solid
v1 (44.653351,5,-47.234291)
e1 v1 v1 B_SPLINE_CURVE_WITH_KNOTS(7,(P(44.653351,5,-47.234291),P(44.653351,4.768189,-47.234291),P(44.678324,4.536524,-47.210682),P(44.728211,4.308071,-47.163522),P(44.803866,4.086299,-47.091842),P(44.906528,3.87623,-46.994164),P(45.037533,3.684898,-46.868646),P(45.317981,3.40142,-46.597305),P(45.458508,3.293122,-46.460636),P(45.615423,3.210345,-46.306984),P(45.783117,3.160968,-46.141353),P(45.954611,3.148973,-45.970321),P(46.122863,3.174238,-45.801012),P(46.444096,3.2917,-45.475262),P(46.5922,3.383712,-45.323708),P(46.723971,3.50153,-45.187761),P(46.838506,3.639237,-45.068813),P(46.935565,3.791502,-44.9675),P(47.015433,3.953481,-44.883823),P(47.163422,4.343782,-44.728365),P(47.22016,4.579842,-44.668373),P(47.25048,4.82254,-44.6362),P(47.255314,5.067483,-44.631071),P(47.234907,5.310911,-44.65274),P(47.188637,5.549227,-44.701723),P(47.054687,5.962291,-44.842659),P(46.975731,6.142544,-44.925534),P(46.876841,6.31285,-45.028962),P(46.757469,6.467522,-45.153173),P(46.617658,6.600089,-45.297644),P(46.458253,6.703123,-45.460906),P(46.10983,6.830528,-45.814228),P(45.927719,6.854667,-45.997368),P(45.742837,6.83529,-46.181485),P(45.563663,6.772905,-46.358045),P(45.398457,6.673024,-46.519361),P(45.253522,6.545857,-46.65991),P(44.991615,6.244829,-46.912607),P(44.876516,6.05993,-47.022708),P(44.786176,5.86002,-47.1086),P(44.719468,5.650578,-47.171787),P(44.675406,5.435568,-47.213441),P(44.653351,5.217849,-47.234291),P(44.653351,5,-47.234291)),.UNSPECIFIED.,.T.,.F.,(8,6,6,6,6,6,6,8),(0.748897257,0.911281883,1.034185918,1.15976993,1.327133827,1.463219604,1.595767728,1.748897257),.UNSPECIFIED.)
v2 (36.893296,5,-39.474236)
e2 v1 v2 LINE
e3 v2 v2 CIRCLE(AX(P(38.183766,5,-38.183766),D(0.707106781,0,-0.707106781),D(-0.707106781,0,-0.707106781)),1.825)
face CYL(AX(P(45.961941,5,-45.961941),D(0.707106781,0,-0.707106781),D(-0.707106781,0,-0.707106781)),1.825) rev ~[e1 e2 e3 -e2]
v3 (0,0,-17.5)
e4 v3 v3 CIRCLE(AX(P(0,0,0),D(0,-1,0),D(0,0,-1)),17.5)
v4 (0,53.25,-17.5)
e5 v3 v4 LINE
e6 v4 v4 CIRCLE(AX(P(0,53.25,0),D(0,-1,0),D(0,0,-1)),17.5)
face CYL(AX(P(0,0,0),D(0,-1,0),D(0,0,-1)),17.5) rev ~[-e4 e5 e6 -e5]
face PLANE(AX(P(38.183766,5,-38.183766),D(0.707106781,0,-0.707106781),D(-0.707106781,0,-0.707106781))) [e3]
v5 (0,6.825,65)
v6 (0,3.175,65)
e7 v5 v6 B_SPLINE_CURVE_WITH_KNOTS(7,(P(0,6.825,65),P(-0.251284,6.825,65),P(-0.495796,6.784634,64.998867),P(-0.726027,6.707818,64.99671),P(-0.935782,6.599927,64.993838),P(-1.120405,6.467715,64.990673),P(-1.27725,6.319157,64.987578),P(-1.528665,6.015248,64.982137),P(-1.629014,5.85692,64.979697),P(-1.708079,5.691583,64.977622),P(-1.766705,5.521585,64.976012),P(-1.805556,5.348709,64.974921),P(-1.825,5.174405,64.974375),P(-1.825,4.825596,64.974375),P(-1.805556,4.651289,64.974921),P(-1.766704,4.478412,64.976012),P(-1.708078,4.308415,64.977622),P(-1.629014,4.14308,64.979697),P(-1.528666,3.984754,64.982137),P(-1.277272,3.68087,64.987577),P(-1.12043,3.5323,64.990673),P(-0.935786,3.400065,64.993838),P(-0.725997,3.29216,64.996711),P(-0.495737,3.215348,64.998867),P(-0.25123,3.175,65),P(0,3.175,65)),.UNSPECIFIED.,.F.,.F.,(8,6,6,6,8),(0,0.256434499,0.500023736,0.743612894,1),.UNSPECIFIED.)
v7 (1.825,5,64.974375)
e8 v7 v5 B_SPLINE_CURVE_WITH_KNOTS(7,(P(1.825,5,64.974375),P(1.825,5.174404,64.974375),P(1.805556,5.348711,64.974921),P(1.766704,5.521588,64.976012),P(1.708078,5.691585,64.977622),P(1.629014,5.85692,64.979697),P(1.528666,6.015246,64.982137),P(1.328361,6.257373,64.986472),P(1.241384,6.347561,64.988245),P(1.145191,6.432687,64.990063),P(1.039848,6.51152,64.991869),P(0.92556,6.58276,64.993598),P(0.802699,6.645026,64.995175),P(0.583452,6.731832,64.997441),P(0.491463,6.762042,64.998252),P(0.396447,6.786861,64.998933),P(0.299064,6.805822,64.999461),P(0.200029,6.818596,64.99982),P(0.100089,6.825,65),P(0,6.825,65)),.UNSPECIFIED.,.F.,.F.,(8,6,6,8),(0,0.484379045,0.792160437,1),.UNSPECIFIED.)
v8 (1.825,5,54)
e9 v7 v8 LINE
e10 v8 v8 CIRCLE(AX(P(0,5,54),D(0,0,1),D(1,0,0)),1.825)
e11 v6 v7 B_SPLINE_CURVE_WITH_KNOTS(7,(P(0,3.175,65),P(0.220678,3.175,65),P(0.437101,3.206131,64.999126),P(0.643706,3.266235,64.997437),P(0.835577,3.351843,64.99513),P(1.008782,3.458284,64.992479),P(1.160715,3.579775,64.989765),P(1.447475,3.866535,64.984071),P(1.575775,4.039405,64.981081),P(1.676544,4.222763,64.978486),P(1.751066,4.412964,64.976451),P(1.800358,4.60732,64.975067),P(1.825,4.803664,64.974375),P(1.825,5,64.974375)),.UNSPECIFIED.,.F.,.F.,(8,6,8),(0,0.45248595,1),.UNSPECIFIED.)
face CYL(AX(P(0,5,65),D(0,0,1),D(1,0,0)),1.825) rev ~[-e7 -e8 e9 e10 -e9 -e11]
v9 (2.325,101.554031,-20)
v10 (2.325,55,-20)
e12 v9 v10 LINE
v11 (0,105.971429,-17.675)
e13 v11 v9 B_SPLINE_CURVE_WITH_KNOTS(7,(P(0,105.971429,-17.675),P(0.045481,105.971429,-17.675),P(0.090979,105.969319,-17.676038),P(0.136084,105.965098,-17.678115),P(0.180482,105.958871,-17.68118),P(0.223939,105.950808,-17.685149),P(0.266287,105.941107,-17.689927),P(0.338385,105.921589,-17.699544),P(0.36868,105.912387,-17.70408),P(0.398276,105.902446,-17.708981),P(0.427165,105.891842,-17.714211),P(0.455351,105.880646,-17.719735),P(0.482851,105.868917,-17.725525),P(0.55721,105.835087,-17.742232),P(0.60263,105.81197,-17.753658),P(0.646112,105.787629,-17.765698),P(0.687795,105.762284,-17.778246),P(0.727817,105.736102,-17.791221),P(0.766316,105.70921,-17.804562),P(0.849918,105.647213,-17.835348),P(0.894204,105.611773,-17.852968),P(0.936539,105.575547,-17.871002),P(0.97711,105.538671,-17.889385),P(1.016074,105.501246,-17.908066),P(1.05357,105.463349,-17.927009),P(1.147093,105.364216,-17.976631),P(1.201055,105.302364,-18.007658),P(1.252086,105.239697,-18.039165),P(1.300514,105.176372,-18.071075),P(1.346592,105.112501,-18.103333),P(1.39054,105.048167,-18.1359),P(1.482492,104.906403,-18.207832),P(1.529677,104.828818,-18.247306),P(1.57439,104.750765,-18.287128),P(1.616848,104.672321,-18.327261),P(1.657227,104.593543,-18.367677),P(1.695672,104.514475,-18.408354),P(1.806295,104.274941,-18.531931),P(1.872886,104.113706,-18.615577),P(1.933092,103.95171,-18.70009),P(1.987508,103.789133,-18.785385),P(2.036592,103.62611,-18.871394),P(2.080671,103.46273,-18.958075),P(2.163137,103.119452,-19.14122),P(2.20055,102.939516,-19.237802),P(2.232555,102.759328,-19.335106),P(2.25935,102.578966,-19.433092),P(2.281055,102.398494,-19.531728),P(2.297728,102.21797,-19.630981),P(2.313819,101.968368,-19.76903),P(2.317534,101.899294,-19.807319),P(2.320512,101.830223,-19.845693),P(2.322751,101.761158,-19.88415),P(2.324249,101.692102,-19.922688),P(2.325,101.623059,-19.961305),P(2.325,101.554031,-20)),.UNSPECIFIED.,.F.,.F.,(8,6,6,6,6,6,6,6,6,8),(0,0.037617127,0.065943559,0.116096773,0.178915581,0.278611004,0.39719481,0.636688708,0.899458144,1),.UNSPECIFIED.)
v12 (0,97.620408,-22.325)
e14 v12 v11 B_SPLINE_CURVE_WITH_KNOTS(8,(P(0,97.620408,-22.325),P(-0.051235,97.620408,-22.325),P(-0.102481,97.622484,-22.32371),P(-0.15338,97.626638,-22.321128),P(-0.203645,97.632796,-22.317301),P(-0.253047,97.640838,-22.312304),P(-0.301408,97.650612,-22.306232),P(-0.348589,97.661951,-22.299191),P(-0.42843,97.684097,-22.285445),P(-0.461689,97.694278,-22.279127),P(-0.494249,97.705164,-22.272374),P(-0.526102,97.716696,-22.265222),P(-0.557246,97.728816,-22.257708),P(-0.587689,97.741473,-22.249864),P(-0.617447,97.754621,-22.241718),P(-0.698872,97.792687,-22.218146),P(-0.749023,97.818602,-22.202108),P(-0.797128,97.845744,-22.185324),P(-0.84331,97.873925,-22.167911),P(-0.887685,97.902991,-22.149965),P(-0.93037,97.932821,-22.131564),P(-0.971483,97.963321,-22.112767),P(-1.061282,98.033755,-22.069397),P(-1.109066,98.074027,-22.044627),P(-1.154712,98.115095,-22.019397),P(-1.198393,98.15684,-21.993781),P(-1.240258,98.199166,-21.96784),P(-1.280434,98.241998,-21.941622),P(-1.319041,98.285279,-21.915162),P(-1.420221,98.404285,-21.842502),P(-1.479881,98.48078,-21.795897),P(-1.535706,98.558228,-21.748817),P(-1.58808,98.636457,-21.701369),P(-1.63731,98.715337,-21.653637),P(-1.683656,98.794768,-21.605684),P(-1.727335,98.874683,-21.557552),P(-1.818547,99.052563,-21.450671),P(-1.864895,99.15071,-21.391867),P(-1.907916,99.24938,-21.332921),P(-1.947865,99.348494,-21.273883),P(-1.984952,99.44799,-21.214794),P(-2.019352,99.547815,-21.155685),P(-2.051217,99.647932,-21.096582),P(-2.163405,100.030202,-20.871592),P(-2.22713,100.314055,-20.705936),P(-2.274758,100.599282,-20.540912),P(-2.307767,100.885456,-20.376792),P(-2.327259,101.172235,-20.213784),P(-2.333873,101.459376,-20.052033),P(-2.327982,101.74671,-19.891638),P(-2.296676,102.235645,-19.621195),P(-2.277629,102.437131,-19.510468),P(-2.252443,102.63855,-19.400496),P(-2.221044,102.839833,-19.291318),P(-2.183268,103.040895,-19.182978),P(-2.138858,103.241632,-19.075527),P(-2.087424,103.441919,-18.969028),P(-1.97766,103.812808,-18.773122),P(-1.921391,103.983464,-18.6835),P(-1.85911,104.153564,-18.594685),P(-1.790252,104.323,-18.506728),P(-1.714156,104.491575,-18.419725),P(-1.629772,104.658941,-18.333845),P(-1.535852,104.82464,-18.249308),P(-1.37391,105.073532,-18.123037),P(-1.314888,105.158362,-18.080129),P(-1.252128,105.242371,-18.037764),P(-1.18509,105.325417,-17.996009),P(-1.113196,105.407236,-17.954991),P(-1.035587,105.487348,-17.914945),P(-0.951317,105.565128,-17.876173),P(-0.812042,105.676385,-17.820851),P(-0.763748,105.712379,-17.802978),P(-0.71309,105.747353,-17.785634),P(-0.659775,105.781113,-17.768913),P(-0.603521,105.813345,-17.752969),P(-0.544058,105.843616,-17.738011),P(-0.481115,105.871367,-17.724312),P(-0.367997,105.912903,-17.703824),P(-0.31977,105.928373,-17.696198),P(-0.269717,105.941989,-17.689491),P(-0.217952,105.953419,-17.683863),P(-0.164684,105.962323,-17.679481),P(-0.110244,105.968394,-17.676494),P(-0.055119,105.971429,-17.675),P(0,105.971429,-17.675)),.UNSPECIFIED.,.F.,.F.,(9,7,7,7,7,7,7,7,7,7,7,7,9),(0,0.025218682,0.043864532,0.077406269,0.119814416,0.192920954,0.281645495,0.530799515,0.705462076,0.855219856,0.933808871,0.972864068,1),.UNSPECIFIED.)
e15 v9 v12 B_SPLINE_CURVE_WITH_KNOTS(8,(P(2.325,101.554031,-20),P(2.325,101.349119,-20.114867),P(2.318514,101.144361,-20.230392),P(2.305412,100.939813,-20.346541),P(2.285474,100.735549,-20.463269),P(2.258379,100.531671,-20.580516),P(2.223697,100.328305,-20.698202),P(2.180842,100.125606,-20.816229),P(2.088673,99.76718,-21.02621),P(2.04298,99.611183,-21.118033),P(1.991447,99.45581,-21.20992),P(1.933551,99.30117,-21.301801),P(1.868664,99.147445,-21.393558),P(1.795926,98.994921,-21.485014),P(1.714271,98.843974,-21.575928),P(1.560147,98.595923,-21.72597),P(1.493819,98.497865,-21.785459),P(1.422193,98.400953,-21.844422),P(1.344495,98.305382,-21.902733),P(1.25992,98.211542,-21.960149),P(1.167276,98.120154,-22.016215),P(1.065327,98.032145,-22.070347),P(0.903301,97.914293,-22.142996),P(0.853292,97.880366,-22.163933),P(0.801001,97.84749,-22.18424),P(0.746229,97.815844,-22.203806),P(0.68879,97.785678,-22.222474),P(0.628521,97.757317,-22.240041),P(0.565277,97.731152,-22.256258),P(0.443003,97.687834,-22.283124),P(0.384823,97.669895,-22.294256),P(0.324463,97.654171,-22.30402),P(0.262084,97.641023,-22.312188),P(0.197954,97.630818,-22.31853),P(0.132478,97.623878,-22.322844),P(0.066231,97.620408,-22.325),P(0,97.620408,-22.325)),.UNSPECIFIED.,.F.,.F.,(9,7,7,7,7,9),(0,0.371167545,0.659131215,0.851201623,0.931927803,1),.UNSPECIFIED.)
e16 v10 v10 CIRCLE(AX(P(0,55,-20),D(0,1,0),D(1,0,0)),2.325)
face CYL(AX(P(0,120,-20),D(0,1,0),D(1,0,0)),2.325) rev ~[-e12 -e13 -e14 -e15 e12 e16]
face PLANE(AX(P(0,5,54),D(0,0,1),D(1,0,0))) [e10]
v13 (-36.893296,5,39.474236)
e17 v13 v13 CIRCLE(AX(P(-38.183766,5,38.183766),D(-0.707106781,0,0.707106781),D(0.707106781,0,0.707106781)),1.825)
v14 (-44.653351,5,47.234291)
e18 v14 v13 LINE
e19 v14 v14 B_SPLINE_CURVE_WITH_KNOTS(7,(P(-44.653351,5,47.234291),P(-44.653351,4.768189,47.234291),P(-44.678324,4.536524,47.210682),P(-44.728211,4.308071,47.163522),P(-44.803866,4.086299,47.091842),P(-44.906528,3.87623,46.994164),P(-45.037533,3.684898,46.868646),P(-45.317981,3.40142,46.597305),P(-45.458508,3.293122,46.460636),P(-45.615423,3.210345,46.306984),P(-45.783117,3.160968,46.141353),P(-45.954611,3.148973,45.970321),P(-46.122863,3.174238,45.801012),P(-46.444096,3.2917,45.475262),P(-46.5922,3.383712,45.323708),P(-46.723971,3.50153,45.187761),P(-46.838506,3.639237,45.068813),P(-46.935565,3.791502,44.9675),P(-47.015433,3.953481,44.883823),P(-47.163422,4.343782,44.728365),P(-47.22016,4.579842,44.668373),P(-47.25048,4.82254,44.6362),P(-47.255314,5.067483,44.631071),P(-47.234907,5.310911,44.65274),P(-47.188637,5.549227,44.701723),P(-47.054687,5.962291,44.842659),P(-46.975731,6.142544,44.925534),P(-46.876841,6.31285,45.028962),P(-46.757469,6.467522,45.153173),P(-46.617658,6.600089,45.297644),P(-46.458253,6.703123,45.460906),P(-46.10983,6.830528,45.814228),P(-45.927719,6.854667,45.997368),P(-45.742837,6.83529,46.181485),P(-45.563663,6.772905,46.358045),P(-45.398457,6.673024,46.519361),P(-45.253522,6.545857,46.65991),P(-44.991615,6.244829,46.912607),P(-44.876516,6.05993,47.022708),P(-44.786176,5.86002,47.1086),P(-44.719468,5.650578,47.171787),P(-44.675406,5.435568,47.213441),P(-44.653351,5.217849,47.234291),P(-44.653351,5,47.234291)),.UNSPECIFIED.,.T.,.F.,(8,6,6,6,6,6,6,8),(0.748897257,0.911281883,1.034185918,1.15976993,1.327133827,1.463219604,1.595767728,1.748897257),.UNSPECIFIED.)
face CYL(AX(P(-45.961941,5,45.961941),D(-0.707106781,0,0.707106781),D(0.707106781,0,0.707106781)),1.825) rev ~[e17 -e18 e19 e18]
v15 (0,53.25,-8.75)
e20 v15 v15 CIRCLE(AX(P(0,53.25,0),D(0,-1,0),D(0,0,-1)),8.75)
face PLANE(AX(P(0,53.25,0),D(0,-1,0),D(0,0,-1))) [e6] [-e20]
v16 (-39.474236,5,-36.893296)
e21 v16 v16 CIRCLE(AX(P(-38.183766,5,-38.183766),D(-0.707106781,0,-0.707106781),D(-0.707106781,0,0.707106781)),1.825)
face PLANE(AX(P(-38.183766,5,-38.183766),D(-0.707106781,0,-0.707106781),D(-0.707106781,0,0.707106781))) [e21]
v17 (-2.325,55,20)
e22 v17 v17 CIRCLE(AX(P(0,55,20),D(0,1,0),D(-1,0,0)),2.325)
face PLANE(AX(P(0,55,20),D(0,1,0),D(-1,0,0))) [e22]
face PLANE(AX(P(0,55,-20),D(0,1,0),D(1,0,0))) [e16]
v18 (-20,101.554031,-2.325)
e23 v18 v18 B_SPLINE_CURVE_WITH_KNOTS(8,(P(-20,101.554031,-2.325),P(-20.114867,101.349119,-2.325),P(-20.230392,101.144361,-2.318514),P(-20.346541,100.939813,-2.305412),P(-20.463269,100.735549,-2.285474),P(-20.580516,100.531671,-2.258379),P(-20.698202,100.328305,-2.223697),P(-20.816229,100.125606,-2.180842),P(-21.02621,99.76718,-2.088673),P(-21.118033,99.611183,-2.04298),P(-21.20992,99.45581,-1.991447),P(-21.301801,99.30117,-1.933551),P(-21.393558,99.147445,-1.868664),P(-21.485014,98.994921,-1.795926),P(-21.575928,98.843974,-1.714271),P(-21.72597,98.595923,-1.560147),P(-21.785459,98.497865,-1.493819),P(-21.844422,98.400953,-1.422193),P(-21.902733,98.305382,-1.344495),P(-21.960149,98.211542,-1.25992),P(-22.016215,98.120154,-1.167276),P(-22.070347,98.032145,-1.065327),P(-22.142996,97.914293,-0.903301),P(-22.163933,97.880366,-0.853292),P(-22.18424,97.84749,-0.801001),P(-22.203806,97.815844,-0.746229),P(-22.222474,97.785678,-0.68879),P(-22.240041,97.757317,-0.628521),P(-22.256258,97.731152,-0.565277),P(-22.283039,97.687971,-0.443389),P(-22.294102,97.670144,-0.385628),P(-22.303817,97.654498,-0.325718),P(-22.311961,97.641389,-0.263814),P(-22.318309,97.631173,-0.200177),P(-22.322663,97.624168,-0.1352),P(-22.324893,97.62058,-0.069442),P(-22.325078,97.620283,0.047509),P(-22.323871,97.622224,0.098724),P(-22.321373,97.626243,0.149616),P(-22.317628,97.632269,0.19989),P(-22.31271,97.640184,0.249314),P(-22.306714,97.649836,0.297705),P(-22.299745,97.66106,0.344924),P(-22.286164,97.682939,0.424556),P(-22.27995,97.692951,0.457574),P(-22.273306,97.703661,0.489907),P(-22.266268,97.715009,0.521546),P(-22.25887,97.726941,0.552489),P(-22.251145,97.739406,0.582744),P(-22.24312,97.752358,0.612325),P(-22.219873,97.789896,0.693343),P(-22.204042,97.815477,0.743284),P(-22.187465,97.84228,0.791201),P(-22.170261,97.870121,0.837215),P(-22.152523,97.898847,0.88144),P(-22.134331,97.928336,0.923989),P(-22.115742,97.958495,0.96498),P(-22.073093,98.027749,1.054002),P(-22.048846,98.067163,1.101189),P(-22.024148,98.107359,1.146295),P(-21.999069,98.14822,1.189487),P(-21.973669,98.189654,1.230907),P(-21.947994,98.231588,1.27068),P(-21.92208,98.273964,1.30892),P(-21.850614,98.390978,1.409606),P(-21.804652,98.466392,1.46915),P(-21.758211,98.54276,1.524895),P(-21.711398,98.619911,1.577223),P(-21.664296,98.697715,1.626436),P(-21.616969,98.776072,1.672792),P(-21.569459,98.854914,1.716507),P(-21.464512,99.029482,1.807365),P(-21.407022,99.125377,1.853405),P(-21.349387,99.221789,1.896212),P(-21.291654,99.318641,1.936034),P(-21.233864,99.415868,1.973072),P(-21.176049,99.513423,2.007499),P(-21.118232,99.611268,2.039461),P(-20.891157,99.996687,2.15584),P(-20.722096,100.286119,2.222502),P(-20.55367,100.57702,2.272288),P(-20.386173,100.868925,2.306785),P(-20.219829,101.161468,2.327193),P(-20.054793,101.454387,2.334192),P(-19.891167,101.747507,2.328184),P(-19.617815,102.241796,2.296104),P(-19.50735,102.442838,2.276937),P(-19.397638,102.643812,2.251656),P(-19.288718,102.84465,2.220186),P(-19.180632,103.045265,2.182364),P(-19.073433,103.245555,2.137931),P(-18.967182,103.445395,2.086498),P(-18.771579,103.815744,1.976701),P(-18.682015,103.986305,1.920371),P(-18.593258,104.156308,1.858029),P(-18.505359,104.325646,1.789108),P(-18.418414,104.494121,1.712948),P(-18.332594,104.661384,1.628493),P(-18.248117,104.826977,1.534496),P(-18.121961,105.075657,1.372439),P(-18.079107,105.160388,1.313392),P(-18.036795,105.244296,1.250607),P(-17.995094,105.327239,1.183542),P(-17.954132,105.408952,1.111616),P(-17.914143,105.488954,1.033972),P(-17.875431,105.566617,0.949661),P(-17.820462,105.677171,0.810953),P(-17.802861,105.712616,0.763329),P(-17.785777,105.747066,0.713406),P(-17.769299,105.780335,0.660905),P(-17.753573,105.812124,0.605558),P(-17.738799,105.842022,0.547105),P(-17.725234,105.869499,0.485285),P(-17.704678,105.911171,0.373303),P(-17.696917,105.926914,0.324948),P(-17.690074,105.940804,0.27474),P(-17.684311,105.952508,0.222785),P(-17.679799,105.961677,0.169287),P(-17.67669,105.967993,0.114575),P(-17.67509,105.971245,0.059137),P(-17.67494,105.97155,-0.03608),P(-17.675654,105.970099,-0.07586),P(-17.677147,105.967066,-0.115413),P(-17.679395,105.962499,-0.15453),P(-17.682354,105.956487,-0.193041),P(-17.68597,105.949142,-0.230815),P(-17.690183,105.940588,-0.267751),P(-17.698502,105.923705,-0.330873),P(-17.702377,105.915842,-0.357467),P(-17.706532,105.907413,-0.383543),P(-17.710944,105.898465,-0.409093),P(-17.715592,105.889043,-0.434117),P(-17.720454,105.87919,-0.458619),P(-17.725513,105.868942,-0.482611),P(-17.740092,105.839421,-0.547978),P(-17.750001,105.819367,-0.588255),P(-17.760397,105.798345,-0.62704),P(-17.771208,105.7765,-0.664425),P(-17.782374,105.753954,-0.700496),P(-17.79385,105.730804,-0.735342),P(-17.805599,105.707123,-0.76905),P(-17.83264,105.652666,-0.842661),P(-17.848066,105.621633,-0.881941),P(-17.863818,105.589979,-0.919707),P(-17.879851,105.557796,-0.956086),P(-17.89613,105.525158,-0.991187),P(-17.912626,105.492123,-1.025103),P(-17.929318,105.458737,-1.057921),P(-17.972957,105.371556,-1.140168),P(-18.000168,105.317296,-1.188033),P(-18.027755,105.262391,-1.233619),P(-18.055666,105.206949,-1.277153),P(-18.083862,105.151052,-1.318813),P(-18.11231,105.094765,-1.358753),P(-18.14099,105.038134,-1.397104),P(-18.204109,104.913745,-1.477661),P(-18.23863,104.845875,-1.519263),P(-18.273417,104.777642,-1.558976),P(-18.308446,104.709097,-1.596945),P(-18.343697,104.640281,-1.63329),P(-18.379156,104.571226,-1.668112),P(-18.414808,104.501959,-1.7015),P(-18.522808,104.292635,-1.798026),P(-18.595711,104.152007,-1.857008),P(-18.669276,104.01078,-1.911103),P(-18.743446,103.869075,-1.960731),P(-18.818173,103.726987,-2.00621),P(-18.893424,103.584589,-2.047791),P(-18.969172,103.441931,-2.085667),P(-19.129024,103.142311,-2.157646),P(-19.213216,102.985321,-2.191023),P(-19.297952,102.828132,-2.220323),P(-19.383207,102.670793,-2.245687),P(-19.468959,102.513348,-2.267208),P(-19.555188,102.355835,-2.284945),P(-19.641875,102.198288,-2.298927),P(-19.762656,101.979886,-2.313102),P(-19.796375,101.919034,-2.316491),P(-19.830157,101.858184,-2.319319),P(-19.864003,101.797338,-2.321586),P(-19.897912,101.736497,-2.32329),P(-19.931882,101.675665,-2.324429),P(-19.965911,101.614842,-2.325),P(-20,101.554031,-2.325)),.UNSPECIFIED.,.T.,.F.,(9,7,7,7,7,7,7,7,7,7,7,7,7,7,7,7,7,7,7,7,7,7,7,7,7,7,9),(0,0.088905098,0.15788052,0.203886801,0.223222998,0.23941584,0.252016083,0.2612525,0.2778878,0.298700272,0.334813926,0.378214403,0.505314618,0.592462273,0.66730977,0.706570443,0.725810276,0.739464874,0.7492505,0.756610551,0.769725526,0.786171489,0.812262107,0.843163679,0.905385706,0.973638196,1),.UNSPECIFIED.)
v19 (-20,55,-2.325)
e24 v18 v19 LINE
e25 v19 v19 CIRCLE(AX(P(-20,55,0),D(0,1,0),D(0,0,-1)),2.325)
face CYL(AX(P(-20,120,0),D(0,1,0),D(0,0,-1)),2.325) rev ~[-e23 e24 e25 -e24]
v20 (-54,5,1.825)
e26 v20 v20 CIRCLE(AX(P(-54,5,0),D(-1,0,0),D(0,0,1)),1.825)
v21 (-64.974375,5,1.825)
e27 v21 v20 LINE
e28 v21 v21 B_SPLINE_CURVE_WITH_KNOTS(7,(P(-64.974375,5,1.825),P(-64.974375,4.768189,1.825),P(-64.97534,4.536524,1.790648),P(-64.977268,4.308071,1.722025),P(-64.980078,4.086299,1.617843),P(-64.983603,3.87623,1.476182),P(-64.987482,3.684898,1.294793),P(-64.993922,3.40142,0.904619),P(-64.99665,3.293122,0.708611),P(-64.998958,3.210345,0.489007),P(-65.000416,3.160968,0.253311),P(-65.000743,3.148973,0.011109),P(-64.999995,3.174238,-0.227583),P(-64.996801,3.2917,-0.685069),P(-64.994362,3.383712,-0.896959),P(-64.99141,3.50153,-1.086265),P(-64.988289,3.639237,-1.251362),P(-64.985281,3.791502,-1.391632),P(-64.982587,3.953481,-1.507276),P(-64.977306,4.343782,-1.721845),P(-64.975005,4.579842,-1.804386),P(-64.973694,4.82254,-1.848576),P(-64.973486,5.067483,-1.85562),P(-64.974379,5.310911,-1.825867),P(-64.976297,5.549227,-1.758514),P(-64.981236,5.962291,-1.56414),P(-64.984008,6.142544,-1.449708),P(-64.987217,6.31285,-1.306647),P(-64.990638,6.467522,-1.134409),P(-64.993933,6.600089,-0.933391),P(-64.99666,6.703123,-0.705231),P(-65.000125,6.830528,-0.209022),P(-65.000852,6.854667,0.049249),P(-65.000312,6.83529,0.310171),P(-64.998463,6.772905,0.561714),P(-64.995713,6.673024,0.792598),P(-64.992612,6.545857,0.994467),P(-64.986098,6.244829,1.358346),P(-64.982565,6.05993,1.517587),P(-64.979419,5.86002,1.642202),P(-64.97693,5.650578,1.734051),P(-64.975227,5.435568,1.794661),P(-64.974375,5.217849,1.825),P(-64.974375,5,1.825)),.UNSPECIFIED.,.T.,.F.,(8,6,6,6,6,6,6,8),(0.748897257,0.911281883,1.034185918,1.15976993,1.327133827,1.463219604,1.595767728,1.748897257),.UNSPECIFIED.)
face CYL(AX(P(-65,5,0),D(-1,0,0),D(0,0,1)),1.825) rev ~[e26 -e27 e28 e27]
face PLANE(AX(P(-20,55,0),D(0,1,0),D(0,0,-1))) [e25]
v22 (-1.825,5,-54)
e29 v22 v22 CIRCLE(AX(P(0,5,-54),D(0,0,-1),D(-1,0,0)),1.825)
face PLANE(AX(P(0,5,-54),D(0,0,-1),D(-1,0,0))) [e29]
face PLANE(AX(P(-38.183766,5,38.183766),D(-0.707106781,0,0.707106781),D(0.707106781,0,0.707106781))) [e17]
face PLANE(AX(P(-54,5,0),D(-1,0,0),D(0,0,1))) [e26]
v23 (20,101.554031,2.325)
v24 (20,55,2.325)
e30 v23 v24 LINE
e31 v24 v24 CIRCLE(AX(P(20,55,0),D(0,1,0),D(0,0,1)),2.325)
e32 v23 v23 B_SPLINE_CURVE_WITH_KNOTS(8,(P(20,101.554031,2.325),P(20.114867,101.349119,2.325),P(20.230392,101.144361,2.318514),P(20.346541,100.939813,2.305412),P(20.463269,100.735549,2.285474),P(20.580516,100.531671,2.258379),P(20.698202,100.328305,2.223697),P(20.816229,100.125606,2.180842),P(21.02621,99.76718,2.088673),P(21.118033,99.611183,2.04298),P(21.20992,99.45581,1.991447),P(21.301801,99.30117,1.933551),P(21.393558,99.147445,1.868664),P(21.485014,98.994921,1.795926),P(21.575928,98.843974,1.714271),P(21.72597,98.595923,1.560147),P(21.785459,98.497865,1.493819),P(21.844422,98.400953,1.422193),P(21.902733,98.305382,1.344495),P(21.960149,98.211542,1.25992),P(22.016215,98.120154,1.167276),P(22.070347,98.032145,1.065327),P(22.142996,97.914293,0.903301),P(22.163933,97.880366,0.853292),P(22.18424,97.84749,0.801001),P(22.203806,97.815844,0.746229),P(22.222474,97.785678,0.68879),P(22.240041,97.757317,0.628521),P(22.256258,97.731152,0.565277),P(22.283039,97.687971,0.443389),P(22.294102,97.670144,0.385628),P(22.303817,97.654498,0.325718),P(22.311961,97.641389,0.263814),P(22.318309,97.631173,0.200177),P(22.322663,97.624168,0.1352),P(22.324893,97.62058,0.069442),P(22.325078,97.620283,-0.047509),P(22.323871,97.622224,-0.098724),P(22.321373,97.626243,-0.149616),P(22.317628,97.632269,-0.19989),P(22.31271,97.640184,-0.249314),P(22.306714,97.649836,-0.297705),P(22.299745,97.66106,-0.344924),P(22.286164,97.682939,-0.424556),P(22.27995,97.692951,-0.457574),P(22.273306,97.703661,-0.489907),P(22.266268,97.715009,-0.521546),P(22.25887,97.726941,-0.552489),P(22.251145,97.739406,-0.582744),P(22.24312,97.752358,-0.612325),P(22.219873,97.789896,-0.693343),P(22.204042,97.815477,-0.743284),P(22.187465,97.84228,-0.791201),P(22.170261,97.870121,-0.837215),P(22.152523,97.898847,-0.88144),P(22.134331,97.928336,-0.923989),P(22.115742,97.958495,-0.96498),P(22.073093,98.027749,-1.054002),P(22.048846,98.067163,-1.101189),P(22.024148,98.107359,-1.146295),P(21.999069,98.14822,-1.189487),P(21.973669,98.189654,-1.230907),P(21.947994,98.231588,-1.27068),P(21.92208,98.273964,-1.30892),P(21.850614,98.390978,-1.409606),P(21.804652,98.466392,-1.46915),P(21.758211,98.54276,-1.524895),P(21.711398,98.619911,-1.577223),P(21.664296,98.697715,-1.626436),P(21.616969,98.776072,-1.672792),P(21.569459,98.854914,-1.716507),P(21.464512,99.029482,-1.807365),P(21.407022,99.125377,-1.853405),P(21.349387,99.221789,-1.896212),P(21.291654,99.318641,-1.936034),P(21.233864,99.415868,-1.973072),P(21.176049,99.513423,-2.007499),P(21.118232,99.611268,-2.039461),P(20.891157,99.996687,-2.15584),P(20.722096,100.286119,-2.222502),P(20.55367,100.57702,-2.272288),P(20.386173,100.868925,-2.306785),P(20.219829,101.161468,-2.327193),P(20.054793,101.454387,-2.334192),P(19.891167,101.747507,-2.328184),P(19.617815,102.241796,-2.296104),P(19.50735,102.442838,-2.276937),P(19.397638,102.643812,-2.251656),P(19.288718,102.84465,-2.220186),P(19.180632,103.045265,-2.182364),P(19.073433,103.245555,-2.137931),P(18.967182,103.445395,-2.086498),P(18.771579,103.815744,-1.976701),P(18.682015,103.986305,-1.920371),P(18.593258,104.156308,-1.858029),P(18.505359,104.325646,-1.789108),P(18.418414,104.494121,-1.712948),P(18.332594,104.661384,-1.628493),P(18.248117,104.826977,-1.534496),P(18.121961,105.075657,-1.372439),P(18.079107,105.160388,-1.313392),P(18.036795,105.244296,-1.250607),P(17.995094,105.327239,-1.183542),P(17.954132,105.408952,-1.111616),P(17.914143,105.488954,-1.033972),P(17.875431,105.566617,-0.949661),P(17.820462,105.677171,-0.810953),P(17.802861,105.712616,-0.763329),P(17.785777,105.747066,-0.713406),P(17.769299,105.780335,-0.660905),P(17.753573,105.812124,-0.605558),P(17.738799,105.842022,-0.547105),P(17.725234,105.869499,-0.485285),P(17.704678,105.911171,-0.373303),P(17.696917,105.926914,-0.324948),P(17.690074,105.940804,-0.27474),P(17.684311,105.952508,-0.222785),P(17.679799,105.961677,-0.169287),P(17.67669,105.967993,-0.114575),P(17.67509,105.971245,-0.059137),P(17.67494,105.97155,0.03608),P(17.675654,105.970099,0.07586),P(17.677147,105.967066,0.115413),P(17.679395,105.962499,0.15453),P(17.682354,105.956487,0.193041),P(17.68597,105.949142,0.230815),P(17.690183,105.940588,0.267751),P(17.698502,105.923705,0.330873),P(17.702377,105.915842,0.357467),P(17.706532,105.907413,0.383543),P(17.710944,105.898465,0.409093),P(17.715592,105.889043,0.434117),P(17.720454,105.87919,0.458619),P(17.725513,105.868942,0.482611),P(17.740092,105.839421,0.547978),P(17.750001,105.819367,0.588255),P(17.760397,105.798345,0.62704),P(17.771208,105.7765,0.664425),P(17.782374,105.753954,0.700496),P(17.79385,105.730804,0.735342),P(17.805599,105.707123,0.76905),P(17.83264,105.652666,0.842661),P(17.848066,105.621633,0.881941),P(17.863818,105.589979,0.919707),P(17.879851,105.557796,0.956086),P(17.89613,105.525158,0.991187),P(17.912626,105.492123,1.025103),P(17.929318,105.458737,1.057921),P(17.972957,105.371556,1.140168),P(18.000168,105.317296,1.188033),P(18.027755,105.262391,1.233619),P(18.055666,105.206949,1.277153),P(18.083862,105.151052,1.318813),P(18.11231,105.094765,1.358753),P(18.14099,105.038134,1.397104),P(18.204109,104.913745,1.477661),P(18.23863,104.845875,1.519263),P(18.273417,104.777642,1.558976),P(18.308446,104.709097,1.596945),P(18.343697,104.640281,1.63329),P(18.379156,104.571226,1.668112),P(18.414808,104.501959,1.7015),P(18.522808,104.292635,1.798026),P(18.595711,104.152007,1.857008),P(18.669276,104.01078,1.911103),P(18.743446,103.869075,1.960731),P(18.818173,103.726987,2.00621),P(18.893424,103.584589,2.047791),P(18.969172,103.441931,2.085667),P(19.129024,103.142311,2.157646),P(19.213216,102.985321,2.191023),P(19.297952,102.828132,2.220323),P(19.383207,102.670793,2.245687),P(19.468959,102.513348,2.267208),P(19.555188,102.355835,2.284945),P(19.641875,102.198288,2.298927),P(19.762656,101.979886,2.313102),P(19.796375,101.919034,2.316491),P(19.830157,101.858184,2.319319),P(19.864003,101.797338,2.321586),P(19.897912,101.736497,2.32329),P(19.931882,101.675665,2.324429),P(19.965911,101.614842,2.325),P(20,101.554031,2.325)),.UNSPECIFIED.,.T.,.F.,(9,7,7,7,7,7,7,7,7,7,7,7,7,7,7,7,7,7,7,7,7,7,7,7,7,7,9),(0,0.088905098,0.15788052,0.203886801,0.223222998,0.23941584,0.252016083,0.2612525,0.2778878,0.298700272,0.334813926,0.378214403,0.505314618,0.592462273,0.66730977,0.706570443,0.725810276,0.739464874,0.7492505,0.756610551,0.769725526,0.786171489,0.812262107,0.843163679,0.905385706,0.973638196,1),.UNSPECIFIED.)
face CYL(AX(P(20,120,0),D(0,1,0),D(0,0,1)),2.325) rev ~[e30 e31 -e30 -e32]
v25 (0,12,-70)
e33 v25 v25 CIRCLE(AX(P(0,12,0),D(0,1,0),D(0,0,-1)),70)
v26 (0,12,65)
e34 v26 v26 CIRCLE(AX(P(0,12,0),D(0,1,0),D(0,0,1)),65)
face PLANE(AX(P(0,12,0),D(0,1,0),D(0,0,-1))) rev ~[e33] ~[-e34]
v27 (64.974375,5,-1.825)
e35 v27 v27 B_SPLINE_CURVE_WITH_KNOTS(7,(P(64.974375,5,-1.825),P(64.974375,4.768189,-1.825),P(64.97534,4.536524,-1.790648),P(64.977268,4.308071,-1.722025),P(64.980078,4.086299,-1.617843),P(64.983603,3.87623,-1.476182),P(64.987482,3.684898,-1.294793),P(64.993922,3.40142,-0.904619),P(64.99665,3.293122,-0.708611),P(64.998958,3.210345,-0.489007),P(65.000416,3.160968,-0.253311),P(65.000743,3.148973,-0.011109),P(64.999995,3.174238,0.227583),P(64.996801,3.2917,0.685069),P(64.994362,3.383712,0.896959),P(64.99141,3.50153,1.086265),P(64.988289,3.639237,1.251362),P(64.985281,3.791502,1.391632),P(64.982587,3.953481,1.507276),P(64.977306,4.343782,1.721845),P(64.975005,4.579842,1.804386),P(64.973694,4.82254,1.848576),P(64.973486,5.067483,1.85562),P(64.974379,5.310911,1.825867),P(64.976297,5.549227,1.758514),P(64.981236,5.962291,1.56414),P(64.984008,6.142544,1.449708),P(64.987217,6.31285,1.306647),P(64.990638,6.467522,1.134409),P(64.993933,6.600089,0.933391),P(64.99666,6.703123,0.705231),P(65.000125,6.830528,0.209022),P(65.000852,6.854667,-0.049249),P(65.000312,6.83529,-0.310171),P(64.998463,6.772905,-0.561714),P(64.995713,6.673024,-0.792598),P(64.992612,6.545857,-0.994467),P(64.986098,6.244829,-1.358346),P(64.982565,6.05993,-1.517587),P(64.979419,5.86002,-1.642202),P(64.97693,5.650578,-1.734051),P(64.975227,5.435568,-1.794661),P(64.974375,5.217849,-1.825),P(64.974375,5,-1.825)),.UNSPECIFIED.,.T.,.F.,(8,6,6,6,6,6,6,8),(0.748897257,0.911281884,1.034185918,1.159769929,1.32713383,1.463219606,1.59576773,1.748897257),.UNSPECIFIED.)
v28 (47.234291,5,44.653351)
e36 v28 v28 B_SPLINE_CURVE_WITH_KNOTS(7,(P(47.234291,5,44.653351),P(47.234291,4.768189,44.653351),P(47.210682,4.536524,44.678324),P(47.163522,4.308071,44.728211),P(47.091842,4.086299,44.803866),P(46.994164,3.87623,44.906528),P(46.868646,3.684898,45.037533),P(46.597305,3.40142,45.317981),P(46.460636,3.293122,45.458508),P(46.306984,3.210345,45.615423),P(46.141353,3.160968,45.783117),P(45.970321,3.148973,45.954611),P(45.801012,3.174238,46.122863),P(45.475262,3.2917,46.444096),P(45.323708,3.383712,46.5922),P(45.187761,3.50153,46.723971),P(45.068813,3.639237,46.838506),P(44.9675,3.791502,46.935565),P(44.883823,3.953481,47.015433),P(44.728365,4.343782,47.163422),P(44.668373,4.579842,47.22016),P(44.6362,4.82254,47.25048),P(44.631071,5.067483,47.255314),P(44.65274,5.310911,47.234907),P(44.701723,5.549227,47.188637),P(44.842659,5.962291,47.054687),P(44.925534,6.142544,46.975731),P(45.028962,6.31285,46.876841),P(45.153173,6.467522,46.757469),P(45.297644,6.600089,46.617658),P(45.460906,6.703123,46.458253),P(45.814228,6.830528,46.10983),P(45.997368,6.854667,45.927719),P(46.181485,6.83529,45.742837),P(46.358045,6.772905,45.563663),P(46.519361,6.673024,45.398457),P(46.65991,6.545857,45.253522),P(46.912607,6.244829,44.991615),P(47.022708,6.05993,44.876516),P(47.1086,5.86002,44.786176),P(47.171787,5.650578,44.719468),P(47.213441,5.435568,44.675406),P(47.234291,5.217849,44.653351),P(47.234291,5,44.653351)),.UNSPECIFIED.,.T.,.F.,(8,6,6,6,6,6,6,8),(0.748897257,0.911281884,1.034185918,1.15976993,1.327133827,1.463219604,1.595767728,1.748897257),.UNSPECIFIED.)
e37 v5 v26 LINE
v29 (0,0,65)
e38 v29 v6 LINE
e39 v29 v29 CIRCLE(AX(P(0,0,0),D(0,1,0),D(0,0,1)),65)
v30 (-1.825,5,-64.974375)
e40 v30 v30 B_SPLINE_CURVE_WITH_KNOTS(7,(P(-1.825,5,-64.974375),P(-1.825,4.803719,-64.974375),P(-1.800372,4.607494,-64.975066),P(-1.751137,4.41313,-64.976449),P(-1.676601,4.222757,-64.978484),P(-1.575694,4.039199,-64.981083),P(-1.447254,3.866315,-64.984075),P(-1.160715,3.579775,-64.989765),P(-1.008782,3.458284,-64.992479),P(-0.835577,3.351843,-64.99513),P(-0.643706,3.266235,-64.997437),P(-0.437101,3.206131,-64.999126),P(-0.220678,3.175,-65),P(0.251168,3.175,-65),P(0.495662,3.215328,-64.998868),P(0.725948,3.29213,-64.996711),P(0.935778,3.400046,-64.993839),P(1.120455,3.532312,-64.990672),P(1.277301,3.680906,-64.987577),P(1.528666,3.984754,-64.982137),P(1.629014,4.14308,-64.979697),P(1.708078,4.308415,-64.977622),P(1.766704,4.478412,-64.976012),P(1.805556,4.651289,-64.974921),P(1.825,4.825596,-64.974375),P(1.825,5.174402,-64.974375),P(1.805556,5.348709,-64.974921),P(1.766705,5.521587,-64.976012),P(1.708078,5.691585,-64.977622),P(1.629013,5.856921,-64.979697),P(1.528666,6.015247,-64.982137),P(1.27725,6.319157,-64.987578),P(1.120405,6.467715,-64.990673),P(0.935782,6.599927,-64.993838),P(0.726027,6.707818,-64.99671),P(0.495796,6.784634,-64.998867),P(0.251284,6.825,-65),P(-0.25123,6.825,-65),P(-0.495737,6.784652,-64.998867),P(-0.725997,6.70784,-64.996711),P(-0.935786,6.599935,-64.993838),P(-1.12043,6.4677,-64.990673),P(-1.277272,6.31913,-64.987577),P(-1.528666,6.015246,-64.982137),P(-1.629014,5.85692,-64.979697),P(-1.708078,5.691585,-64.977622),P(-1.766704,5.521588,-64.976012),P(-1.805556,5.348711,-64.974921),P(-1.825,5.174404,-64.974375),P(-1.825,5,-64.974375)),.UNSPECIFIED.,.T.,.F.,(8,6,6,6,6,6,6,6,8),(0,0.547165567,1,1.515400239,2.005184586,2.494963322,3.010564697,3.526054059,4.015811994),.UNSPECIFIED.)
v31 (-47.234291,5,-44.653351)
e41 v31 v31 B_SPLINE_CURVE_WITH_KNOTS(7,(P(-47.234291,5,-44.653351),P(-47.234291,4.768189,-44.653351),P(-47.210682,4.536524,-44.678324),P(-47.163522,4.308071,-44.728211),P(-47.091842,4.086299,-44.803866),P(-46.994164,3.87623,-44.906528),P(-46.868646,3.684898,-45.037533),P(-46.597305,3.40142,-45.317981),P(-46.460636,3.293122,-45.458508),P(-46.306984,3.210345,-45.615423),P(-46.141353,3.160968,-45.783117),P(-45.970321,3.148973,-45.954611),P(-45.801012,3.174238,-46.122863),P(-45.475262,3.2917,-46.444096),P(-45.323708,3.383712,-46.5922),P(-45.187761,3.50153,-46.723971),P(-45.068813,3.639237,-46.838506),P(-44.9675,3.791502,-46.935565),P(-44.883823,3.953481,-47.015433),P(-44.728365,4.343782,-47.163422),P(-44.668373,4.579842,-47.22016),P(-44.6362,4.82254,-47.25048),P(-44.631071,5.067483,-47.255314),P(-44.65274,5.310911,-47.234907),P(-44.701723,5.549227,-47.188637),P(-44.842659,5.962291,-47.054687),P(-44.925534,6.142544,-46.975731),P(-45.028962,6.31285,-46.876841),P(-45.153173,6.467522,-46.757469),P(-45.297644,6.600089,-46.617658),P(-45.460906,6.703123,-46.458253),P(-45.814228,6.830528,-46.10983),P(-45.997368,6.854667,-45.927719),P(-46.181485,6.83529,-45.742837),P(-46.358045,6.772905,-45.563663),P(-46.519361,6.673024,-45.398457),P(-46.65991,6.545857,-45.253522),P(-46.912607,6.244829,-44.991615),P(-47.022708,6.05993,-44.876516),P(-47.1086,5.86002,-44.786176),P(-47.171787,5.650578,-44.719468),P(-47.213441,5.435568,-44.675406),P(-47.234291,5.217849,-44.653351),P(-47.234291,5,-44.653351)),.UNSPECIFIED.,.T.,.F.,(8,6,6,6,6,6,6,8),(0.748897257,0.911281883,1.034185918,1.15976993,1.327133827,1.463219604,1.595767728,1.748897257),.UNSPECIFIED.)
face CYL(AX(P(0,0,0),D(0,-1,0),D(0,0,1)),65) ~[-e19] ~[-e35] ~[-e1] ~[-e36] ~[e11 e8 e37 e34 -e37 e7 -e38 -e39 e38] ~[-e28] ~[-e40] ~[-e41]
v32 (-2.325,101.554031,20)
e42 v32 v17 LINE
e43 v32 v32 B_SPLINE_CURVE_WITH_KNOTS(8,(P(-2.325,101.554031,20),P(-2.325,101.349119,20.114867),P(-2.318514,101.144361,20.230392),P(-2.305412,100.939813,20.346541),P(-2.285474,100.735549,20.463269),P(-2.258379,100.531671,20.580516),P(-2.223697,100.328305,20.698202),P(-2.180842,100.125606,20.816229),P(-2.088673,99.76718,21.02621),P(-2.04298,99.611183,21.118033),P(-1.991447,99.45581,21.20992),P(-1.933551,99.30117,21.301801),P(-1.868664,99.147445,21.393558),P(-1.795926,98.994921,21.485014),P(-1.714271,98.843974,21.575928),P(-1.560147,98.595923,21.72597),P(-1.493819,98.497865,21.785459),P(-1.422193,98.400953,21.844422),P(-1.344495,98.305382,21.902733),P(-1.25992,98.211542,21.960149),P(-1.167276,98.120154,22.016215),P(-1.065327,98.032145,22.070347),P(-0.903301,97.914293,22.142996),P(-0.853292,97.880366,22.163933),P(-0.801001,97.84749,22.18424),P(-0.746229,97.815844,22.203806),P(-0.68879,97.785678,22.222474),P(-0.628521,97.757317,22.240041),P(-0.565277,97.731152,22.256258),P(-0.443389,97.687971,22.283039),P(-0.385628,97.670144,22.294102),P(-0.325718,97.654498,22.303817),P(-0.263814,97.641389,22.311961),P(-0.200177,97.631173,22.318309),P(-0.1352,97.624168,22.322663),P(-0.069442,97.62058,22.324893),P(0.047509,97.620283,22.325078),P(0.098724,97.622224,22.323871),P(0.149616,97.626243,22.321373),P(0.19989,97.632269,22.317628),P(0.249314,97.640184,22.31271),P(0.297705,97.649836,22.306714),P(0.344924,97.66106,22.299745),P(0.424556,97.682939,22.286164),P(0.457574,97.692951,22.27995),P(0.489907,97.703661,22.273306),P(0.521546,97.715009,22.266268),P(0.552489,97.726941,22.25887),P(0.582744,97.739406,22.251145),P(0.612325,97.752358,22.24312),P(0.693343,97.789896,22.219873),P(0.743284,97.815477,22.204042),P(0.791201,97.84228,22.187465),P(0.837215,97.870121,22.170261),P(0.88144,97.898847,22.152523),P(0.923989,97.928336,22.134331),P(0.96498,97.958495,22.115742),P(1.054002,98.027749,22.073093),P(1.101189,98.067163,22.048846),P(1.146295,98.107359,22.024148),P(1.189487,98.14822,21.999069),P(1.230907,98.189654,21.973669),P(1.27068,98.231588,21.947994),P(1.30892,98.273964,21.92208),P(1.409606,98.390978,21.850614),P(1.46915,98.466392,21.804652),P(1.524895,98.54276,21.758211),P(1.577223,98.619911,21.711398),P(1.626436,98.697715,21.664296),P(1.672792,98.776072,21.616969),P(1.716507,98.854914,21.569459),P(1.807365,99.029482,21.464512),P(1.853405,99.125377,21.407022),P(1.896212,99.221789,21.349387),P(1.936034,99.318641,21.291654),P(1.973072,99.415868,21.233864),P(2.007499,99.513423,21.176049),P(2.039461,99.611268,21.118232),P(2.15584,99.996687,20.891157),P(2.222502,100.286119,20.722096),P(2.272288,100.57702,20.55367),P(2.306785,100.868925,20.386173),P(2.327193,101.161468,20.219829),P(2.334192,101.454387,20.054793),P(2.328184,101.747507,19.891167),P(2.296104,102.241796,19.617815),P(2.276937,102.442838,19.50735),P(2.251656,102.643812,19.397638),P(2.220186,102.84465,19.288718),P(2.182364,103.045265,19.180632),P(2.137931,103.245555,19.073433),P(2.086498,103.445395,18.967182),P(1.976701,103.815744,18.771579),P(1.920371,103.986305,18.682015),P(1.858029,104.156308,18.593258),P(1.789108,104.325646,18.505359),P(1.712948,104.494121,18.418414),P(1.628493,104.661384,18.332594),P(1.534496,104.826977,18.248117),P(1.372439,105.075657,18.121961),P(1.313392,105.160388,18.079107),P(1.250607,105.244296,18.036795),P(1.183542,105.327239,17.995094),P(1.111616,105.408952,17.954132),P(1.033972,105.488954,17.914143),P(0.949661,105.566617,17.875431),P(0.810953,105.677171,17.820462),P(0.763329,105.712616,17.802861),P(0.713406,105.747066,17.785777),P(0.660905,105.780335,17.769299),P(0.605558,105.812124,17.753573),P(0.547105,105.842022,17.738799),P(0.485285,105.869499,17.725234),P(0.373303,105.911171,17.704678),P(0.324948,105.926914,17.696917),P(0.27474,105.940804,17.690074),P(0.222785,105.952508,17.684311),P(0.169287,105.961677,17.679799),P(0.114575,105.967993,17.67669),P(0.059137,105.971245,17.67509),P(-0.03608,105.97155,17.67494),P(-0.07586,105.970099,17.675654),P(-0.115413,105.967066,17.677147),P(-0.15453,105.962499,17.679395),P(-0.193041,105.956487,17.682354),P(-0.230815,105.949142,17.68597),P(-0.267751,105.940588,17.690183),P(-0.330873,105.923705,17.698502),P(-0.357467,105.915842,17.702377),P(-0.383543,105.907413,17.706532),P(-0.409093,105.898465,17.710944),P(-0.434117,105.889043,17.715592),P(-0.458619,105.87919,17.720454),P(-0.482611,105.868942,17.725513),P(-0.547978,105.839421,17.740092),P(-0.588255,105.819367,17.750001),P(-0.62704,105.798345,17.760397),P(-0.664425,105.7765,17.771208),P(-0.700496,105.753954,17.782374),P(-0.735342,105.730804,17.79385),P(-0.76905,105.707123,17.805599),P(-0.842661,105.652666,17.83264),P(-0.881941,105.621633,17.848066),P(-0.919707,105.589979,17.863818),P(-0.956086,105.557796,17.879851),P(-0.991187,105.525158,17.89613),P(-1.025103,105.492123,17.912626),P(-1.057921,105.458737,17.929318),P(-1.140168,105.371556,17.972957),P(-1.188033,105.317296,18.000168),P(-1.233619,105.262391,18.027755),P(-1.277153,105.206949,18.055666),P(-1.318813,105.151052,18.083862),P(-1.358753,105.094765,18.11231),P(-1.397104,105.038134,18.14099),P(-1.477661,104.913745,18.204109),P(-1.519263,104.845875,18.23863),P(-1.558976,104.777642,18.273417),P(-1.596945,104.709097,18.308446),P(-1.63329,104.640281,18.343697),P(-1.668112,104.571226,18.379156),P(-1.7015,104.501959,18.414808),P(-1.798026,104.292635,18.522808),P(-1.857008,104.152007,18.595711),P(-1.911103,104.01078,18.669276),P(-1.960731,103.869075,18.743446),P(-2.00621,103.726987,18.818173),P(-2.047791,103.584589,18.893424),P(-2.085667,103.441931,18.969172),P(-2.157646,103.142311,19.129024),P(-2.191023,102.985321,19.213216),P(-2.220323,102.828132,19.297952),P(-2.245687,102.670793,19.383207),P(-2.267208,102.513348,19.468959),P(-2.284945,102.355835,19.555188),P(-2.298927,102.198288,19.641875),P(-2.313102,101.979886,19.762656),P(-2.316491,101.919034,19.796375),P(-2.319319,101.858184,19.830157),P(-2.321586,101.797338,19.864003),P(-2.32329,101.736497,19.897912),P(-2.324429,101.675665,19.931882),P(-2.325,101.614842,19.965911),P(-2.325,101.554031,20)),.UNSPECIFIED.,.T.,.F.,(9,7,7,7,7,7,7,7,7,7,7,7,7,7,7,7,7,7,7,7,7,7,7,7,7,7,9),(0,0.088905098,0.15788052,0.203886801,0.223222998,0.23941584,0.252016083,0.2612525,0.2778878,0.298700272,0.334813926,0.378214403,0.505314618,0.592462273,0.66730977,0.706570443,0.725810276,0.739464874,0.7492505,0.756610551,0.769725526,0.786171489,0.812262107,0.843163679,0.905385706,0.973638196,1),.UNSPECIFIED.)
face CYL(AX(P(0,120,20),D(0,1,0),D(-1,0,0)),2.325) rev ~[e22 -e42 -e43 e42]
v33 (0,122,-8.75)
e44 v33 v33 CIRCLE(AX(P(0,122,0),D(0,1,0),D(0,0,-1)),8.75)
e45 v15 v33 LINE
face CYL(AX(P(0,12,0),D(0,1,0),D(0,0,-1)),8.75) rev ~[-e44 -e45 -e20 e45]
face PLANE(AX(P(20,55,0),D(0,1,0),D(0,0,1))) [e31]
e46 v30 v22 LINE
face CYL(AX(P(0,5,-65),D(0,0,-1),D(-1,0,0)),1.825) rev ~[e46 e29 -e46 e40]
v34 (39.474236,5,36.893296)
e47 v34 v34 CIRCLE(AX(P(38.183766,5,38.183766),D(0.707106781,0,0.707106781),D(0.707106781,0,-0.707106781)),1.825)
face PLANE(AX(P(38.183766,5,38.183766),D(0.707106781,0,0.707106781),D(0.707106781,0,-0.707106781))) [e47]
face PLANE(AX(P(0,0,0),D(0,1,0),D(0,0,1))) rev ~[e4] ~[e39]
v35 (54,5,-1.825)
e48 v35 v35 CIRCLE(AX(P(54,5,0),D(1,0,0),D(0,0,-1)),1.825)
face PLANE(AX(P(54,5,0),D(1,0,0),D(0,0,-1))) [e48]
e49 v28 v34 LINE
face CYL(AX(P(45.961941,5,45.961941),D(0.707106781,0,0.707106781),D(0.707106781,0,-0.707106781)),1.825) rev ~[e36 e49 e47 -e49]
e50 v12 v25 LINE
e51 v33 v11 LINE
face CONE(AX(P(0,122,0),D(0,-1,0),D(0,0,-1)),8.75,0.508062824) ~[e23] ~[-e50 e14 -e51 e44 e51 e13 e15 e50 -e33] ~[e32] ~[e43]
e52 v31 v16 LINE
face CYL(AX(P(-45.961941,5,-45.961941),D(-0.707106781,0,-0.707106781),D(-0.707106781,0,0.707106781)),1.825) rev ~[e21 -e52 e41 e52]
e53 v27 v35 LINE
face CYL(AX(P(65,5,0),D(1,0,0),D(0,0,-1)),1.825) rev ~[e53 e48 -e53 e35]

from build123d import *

# Parameters (mm, degrees)
SKETCH1_R           = 65
SKETCH1_R_2         = 8.75
BOSS_EXTRUDE1_DEPTH = 12
SKETCH2_R           = 1.825
CUT_EXTRUDE1_DEPTH  = 11
CIRPATTERN1_COUNT   = 8
SKETCH9_R           = 2.325
CUT_EXTRUDE3_DEPTH  = 65
CIRPATTERN2_COUNT   = 4
SKETCH11_R          = 17.5
CUT_EXTRUDE5_DEPTH  = 53.25


with BuildPart() as part:
    # Sketch1 → Boss-Extrude1 (new body)
    with BuildSketch(Plane(origin=(0, 0, 0), x_dir=(1, 0, 0), z_dir=(0, 1, 0))):
        with Locations(Location((0, 0, 0), (0, 0, 270))):
            Circle(SKETCH1_R)
        with Locations(Location((0, 0, 0), (0, 0, 270))):
            Circle(SKETCH1_R_2, mode=Mode.SUBTRACT)
    extrude(amount=BOSS_EXTRUDE1_DEPTH)

    # Sketch2 → Cut-Extrude1 (cut)
    with BuildSketch(Plane.ZY.offset(65)):
        with Locations((0, 5)):
            Circle(SKETCH2_R)
    cut_extrude1 = extrude(amount=-CUT_EXTRUDE1_DEPTH, mode=Mode.SUBTRACT)

    # CirPattern1: Cut-Extrude1 ×8 about axis
    cirpattern1_axis = Axis((0, 0, 0), (0, 1, 0))
    for i in range(1, CIRPATTERN1_COUNT):
        add(cut_extrude1.rotate(cirpattern1_axis, i * 360 / CIRPATTERN1_COUNT), mode=Mode.SUBTRACT)

    # Sketch6 → Revolve1 (revolve)
    with BuildSketch(Plane.XY, mode=Mode.PRIVATE) as revolve1_sk:
        Polygon((-8.75, 12), (-8.75, 122), (-70, 12), align=None)
    revolve(revolve1_sk.sketch.rotate(Axis((0, -6, 0), (0, 1, 0)), 270), axis=Axis((0, -6, 0), (0, 1, 0)))

    # Sketch9 → Cut-Extrude3 (cut)
    with BuildSketch(Plane(origin=(0, 120, 0), x_dir=(1, 0, 0), z_dir=(0, 1, 0))):
        with Locations(Location((20, 0, 0), (0, 0, 270))):
            Circle(SKETCH9_R)
    cut_extrude3 = extrude(amount=-CUT_EXTRUDE3_DEPTH, mode=Mode.SUBTRACT)

    # CirPattern2: Cut-Extrude3 ×4 about axis
    cirpattern2_axis = Axis((0, 0, 0), (0, 1, 0))
    for i in range(1, CIRPATTERN2_COUNT):
        add(cut_extrude3.rotate(cirpattern2_axis, i * 360 / CIRPATTERN2_COUNT), mode=Mode.SUBTRACT)

    # Sketch11 → Cut-Extrude5 (cut)
    with BuildSketch(Plane.XZ):
        with Locations(Location((0, 0, 0), (0, 0, 270))):
            Circle(SKETCH11_R)
    extrude(amount=-CUT_EXTRUDE5_DEPTH, mode=Mode.SUBTRACT)


solid = part.part
